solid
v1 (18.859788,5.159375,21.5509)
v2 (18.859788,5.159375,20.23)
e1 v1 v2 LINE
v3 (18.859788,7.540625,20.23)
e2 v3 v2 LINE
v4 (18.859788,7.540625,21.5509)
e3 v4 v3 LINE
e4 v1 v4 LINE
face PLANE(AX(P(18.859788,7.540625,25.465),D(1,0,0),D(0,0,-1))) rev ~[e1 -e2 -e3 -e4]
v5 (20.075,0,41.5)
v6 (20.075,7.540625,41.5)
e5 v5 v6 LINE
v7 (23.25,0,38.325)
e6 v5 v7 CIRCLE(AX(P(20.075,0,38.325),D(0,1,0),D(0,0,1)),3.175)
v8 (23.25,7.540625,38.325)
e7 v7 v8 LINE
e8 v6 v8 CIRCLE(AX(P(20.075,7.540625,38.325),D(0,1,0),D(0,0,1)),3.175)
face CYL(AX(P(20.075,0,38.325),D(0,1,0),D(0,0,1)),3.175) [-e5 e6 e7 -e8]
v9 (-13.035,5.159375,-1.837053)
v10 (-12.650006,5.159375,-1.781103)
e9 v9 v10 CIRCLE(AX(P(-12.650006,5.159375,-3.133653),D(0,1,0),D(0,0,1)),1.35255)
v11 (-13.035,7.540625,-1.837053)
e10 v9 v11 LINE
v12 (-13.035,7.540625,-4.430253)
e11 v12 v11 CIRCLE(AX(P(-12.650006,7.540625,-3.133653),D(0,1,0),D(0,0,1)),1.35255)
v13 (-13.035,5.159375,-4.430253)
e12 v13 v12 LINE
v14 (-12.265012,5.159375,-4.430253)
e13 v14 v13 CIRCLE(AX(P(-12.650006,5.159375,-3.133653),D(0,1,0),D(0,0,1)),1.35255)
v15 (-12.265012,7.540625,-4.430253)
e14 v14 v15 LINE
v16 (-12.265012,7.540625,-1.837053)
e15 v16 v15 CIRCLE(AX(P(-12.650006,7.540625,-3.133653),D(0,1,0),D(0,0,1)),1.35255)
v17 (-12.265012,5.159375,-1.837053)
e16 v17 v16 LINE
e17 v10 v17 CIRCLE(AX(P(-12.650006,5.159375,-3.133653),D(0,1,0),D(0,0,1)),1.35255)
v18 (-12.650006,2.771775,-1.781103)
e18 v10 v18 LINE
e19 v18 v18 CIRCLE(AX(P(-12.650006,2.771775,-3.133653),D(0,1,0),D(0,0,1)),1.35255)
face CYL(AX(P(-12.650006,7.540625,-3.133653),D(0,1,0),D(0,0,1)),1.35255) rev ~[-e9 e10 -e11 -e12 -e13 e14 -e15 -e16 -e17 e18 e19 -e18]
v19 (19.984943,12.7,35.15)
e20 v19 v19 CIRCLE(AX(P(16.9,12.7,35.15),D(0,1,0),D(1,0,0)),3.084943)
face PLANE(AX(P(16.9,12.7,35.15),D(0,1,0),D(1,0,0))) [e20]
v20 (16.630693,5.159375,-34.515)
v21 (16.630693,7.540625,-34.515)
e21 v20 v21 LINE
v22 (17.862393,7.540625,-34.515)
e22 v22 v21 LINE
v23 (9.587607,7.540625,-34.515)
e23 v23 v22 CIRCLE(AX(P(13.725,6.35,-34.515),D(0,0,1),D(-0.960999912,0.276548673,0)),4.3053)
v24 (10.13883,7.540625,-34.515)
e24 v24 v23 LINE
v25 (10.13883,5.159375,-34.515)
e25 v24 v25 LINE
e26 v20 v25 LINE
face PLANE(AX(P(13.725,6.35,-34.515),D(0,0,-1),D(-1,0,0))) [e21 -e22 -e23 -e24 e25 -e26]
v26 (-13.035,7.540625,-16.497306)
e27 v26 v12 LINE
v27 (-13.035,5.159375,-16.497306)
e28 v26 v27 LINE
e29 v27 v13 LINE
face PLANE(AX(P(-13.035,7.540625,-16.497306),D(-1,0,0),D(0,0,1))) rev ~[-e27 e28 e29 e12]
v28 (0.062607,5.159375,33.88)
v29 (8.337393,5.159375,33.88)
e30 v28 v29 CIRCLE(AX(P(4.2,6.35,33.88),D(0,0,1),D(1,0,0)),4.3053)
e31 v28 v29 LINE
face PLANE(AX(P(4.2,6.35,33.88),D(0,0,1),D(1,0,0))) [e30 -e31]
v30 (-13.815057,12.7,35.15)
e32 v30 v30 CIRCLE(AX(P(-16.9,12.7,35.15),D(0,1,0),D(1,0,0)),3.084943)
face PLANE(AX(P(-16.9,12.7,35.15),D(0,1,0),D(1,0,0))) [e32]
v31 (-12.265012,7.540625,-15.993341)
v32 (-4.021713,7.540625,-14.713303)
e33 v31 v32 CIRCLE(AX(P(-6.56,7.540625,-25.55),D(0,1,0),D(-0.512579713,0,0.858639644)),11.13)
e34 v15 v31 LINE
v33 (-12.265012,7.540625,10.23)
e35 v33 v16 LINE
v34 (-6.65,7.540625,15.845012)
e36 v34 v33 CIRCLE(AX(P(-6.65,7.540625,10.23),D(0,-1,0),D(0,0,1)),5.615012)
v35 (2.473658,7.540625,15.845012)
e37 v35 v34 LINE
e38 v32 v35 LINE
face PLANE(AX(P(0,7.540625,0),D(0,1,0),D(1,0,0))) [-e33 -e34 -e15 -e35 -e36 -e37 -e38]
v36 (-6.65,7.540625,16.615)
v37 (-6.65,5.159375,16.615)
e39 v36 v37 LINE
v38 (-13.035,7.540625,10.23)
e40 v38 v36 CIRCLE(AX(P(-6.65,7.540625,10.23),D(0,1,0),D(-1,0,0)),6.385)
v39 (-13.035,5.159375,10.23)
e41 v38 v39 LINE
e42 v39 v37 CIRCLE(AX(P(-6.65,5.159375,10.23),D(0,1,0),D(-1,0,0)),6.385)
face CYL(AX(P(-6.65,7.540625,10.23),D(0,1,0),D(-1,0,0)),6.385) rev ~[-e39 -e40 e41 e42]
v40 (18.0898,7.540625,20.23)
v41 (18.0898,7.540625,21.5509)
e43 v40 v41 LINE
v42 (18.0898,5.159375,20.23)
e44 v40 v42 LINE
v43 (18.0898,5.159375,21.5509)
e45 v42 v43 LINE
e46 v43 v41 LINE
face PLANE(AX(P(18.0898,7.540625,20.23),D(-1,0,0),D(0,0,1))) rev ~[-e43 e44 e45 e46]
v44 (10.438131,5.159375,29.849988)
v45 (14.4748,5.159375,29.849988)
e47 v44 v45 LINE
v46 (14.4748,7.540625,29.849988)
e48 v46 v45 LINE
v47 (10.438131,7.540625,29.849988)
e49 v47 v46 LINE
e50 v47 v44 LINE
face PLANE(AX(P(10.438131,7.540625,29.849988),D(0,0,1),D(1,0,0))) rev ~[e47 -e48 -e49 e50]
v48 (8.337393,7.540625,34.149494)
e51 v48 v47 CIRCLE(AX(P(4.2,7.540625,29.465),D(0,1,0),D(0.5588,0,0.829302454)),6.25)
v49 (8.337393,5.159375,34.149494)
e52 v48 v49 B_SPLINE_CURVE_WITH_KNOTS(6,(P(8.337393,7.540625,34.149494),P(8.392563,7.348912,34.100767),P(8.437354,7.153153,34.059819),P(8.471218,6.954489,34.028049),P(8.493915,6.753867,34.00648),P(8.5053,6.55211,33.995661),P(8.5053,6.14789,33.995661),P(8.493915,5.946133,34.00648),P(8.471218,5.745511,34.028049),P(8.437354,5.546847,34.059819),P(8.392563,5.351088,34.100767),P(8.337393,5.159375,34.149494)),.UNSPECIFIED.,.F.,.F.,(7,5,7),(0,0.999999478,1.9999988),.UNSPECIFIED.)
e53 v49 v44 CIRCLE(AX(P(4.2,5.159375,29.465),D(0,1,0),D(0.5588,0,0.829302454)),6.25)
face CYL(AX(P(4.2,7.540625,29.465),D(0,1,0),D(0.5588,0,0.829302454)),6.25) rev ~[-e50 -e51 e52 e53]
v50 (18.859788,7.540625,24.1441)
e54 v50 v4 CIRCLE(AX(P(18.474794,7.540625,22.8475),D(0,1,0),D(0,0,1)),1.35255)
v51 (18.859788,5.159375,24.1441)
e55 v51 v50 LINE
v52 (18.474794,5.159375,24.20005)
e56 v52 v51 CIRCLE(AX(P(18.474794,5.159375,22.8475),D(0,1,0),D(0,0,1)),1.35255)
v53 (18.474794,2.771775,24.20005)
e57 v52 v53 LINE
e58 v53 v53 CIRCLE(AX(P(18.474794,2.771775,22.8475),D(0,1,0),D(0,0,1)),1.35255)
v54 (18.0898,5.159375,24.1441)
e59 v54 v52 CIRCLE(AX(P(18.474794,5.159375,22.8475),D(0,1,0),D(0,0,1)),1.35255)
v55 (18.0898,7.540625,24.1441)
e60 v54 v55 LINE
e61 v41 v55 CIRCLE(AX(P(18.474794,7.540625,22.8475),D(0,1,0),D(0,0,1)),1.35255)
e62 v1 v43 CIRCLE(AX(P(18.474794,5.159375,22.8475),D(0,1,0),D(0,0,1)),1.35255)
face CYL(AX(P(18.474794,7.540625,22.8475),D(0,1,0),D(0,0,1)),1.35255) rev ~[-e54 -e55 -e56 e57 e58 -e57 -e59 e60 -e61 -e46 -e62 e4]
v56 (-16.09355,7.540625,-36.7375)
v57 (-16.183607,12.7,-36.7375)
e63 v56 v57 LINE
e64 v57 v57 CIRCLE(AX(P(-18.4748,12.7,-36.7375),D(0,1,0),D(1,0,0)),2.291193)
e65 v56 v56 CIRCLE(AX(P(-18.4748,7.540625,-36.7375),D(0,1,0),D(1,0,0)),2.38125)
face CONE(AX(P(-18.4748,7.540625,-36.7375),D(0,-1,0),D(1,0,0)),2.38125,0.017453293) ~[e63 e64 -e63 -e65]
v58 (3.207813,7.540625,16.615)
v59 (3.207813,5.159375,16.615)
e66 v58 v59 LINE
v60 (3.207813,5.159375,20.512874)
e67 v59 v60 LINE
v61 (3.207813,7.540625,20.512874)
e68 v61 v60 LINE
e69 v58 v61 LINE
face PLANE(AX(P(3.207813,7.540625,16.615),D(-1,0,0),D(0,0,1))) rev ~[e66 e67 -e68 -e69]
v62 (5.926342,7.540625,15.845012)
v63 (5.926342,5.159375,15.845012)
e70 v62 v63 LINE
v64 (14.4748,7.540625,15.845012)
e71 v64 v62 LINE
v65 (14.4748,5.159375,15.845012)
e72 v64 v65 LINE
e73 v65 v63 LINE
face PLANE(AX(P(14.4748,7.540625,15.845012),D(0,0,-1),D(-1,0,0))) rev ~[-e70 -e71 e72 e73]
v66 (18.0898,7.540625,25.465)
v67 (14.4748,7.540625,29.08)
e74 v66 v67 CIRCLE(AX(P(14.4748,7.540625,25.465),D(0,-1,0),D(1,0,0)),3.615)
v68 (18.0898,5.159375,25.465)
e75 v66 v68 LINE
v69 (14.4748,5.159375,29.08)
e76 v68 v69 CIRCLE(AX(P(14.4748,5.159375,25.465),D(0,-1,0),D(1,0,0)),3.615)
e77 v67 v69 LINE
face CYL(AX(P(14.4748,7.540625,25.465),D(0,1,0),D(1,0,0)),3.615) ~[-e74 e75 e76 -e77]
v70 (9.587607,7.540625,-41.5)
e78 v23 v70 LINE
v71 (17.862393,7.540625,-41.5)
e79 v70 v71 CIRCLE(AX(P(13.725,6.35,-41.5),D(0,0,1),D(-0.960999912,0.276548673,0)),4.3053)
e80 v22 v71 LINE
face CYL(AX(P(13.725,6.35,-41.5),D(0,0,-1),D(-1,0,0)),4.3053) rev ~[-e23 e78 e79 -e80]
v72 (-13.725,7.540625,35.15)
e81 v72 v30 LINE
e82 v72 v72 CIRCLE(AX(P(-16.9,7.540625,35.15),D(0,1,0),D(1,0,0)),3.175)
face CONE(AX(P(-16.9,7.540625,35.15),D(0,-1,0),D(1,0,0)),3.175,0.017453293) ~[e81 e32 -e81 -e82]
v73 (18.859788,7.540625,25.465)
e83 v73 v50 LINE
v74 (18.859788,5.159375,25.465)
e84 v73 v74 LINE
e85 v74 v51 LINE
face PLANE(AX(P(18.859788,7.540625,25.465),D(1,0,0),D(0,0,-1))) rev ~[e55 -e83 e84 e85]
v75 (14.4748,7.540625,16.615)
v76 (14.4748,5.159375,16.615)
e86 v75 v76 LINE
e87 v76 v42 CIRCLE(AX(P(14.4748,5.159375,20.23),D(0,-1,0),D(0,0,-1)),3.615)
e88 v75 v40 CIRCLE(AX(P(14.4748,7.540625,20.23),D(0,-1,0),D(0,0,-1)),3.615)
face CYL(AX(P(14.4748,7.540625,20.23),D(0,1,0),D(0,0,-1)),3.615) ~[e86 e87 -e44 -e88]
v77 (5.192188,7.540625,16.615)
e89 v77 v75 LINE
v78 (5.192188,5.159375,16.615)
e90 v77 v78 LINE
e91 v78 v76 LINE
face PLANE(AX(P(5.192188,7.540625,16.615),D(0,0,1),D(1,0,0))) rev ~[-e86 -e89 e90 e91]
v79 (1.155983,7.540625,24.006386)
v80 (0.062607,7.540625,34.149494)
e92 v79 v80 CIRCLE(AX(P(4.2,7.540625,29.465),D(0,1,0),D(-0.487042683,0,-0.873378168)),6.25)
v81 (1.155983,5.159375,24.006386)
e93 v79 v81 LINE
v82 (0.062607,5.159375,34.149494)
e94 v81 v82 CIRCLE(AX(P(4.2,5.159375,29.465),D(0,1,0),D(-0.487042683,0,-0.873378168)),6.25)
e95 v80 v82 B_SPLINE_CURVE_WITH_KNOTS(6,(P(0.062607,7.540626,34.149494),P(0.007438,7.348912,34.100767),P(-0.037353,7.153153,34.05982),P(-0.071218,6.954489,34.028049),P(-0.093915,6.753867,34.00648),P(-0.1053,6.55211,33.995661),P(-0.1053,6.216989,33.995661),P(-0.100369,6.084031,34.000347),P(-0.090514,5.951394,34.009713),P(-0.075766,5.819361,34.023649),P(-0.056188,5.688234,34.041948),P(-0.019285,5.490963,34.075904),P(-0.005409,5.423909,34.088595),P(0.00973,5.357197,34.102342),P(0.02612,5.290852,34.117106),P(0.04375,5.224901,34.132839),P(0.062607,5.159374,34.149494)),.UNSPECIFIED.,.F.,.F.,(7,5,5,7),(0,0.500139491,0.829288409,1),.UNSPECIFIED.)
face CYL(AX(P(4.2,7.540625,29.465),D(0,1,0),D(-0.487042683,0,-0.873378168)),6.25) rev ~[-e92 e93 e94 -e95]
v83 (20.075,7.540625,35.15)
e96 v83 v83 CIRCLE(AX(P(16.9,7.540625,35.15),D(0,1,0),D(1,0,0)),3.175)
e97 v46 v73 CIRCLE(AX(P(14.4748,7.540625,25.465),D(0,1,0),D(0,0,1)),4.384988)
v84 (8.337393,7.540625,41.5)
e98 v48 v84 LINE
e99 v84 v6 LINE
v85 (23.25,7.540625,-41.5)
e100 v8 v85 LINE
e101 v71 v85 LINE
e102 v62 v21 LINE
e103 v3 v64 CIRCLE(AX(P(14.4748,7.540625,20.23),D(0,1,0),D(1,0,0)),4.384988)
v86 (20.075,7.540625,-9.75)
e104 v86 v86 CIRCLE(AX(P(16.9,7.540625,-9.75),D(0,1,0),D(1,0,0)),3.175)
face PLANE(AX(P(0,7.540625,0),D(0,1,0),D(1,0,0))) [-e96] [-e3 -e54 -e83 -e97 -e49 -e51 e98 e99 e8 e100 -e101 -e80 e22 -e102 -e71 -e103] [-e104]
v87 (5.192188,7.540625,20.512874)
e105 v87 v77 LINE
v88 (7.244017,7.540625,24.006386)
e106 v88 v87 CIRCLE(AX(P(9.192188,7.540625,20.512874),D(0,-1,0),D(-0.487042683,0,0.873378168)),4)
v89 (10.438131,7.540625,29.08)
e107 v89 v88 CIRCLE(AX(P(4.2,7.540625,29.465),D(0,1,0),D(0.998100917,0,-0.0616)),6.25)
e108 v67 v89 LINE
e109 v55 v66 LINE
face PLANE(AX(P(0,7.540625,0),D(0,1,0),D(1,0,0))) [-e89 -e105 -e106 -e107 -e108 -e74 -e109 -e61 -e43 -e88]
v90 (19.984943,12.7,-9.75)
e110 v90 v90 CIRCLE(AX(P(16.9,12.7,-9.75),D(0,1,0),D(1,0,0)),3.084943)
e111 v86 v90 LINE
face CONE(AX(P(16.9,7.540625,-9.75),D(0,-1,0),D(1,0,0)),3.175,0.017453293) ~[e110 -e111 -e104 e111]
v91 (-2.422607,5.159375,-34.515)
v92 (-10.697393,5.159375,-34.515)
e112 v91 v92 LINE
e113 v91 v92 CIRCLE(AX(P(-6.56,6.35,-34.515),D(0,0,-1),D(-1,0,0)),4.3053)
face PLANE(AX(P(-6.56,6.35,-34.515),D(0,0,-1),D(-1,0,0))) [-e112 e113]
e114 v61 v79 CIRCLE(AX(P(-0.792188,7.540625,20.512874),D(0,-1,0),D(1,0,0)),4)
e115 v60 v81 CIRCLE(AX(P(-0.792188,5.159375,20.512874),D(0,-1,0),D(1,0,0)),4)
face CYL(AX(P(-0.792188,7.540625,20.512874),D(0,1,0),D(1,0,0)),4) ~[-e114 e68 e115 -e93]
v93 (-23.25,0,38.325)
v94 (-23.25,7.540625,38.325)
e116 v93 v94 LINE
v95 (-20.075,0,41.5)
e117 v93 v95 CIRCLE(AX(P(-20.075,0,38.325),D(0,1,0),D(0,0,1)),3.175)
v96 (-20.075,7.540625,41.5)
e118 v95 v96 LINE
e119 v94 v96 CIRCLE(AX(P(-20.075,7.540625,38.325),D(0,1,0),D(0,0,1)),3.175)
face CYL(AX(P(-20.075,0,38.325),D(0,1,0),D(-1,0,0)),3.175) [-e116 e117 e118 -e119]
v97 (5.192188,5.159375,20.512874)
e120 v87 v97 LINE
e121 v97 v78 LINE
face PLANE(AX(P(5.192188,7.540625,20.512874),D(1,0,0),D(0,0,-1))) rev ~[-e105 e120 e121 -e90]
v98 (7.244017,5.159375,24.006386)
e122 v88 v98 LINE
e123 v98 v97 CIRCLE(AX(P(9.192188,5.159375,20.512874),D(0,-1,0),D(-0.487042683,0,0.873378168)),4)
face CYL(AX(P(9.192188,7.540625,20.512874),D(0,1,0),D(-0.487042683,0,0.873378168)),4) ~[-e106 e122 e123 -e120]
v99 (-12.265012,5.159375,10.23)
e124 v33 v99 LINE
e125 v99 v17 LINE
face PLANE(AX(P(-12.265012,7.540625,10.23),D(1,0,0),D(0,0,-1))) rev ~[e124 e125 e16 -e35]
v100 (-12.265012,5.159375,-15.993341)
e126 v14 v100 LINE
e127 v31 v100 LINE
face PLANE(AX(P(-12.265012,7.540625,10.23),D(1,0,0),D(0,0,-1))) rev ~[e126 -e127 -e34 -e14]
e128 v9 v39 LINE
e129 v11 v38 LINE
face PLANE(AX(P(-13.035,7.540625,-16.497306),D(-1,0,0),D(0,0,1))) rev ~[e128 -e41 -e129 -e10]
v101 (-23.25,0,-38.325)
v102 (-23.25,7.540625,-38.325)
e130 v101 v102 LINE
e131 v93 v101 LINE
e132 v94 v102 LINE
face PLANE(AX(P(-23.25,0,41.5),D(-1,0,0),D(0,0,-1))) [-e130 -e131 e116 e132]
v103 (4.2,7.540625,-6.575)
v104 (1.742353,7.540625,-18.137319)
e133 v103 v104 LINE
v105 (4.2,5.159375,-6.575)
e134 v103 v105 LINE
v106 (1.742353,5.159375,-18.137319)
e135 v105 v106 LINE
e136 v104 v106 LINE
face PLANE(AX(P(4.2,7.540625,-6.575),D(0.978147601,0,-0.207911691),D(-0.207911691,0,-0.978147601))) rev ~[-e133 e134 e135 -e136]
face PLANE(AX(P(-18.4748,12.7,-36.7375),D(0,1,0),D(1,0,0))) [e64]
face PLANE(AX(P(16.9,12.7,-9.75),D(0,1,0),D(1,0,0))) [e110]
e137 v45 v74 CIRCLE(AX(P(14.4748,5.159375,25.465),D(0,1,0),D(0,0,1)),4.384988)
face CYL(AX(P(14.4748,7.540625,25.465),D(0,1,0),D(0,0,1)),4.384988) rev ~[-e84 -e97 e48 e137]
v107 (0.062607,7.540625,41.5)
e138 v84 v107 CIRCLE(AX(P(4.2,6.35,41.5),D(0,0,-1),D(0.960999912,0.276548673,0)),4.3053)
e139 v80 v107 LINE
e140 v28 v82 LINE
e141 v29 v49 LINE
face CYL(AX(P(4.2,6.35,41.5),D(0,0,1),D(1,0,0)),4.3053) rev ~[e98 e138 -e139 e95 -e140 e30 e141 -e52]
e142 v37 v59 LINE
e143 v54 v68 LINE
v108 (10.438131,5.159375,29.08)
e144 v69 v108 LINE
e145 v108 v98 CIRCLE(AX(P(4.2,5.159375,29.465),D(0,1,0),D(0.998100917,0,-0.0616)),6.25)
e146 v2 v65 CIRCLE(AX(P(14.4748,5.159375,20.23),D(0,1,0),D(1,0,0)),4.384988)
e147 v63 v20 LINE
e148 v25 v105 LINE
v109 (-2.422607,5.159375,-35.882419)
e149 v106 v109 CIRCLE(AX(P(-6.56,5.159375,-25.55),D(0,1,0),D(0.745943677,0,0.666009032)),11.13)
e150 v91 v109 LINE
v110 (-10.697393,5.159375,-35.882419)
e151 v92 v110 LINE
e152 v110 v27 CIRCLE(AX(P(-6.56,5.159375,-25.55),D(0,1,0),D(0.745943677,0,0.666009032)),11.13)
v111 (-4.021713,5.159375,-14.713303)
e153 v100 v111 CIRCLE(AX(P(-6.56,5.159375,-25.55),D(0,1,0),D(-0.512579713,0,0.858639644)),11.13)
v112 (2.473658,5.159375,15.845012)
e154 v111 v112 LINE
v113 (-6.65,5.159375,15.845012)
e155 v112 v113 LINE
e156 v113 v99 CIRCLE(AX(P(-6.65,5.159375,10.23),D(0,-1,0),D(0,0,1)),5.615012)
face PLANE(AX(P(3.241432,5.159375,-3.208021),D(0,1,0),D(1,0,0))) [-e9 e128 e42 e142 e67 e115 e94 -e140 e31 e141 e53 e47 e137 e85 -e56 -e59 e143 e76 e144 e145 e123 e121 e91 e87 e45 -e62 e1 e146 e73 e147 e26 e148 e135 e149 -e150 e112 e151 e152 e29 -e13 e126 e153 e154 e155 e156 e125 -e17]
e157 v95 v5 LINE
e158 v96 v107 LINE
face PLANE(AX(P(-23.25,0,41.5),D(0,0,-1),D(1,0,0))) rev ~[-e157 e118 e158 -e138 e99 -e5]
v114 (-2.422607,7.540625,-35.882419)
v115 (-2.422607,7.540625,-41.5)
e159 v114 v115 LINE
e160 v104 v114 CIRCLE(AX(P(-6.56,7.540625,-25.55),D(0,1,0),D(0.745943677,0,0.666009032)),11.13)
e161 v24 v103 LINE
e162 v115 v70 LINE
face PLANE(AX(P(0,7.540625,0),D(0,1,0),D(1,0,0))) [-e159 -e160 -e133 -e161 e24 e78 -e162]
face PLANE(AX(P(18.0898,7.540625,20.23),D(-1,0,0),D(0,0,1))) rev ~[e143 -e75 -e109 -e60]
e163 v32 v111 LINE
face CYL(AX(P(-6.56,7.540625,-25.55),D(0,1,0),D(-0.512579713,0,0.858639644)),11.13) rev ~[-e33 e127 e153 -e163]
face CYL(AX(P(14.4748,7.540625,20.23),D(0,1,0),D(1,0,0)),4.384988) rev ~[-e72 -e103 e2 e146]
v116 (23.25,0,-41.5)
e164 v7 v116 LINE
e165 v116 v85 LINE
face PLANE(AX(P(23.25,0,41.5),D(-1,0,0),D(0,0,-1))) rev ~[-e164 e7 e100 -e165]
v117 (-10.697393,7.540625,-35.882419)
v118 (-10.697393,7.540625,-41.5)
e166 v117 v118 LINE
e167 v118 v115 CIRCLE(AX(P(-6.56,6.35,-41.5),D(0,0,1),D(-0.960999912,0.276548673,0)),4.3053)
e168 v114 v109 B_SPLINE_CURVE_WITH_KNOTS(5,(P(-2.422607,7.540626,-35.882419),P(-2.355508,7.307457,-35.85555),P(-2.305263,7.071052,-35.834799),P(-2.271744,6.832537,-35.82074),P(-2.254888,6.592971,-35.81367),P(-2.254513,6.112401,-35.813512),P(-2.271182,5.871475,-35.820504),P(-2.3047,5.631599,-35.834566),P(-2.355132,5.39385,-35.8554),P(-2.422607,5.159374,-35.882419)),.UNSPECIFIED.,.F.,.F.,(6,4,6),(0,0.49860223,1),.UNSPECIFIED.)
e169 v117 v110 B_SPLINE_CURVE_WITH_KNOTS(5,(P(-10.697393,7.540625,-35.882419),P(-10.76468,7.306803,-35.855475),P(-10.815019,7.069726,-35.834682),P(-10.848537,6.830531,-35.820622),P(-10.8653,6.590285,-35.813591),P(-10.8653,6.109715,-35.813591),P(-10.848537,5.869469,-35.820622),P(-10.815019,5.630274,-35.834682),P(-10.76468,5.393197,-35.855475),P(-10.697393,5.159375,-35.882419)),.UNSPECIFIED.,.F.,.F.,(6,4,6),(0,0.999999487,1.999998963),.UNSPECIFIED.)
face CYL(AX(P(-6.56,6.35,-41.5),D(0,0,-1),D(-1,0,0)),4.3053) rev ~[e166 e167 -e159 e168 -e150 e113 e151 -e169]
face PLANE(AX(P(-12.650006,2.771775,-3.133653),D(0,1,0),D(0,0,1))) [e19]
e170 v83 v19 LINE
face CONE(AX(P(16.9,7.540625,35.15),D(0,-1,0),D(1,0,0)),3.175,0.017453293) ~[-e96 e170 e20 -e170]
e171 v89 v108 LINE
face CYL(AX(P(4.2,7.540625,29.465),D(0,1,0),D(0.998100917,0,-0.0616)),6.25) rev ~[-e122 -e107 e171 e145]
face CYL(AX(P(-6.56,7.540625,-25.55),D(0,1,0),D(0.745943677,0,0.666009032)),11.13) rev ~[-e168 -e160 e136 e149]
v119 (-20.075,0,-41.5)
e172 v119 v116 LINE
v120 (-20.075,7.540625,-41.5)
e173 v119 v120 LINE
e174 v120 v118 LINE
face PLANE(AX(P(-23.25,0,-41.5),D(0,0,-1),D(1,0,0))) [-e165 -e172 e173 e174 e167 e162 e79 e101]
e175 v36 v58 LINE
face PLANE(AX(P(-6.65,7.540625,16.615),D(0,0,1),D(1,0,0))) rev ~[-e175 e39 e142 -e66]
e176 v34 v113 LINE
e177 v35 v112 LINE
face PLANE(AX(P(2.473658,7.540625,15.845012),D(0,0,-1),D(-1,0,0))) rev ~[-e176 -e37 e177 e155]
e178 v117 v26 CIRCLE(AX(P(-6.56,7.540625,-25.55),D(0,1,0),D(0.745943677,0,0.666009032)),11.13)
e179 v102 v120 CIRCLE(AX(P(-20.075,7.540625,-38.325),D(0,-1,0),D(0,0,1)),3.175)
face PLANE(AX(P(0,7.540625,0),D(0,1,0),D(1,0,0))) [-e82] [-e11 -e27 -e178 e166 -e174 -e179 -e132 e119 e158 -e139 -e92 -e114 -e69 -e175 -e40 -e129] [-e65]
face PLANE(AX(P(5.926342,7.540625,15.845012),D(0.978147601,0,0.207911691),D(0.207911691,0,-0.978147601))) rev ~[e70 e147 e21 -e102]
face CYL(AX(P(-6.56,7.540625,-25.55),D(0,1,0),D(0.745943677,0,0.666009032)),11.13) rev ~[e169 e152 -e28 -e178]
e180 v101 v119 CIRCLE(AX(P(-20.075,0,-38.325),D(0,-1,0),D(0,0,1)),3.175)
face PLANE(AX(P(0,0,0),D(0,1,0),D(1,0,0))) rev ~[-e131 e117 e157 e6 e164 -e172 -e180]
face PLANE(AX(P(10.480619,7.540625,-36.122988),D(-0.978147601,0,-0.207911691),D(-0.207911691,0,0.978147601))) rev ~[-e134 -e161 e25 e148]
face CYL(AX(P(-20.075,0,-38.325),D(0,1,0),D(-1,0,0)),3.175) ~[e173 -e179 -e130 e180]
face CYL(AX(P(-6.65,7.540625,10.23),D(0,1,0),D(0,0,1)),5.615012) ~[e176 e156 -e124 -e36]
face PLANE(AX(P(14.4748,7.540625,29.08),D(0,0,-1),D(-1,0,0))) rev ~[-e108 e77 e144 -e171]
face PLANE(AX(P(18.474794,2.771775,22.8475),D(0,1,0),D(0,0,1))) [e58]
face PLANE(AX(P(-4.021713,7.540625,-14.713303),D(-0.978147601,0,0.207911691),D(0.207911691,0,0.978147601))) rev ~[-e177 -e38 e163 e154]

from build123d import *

# Parameters (mm, degrees)
SKETCH1_W                     = 46.5
SKETCH1_H                     = 83
BOSS_EXTRUDE1_DEPTH           = 7.540625
CUT_EXTRUDE3_START            = 7.540625
CUT_EXTRUDE3_DEPTH            = 2.38125
SKETCH10_R                    = 1.35255
CUT_EXTRUDE6_DEPTH            = 4.76885
SKETCH11_W                    = 6.985
SKETCH11_H                    = 5.382155198
CUT_EXTRUDE7_DEPTH            = 2.38125
SKETCH12_R                    = 3.175
BOSS_EXTRUDE2_DEPTH           = 5.159375
BOSS_EXTRUDE2_DRAFT           = 1
BOSS_EXTRUDE2_PROFILE_2_DEPTH = 5.159375
BOSS_EXTRUDE2_PROFILE_2_DRAFT = 1
BOSS_EXTRUDE2_PROFILE_3_DEPTH = 5.159375
BOSS_EXTRUDE2_PROFILE_3_DRAFT = 1
SKETCH12_R_2                  = 2.38125
BOSS_EXTRUDE2_PROFILE_4_DEPTH = 5.159375
BOSS_EXTRUDE2_PROFILE_4_DRAFT = 1
FILLET1_R                     = 3.175
SKETCH13_R                    = 4.3053
CUT_EXTRUDE8_DEPTH            = 6.985
SKETCH14_R                    = 4.3053
CUT_EXTRUDE9_DEPTH            = 7.62


with BuildPart() as part:
    # Sketch1 → Boss-Extrude1 (new body)
    with BuildSketch(Plane(origin=(0, 0, 0), x_dir=(1, 0, 0), z_dir=(0, 1, 0))):
        Rectangle(SKETCH1_W, SKETCH1_H)
    extrude(amount=BOSS_EXTRUDE1_DEPTH)

    # Sketch2 → Cut-Extrude3 (cut)
    with BuildSketch(Plane(origin=(0, 0, 0), x_dir=(1, 0, 0), z_dir=(0, 1, 0)).offset(CUT_EXTRUDE3_START)):
        with BuildLine():
            Line((5.926342072, -15.8450122), (16.691855897, 34.802748287))
            ThreePointArc((16.691855897, 34.802748287), (16.847821053, 35.78747353), (16.9, 36.783107142))
            Line((16.9, 36.783107142), (16.9, 41.5))
            Line((16.9, 41.5), (10.55, 41.5))
            Line((10.55, 41.5), (10.55, 36.783107142))
            ThreePointArc((10.55, 36.783107142), (10.532607018, 36.451229271), (10.480618632, 36.122987524))
            Line((10.480618632, 36.122987524), (4.2, 6.575))
            Line((4.2, 6.575), (1.742353127, 18.137319476))
            ThreePointArc((1.742353127, 18.137319476), (-7.787687338, 36.612083158), (-13.035, 16.49730565))
            Line((-13.035, 16.49730565), (-13.035, -10.23))
            ThreePointArc((-13.035, -10.23), (-11.164876798, -14.744876798), (-6.65, -16.615))
            Line((-6.65, -16.615), (3.2078125, -16.615))
            Line((3.2078125, -16.615), (3.2078125, -20.512873774))
            ThreePointArc((3.2078125, -20.512873774), (2.656919843, -22.538622657), (1.155983232, -24.006386448))
            ThreePointArc((1.155983232, -24.006386448), (-2.044457088, -29.201835269), (0.7075, -34.648140337))
            Line((0.7075, -34.648140337), (0.7075, -41.5))
            Line((0.7075, -41.5), (7.6925, -41.5))
            Line((7.6925, -41.5), (7.6925, -34.648140337))
            ThreePointArc((7.6925, -34.648140337), (9.624653372, -32.569132052), (10.438131483, -29.8499878))
            Line((10.438131483, -29.8499878), (14.4748, -29.8499878))
            ThreePointArc((14.4748, -29.8499878), (17.575454609, -28.565654609), (18.8597878, -25.465))
            Line((18.8597878, -25.465), (18.8597878, -20.23))
            ThreePointArc((18.8597878, -20.23), (17.575454609, -17.129345391), (14.4748, -15.8450122))
            Line((14.4748, -15.8450122), (5.926342072, -15.8450122))
        make_face()
        with BuildLine():
            Line((14.4748, -29.08), (10.43813073, -29.08))
            ThreePointArc((10.43813073, -29.08), (9.489135484, -26.135203334), (7.244016768, -24.006386448))
            ThreePointArc((7.244016768, -24.006386448), (5.743080157, -22.538622657), (5.1921875, -20.512873774))
            Line((5.1921875, -20.512873774), (5.1921875, -16.615))
            Line((5.1921875, -16.615), (14.4748, -16.615))
            ThreePointArc((14.4748, -16.615), (17.030991014, -17.673808986), (18.0898, -20.23))
            Line((18.0898, -20.23), (18.0898, -25.465))
            ThreePointArc((18.0898, -25.465), (17.030991014, -28.021191014), (14.4748, -29.08))
        make_face(mode=Mode.SUBTRACT)
        with BuildLine():
            Line((-4.021712531, 14.713303237), (2.473657928, -15.8450122))
            Line((2.473657928, -15.8450122), (-6.65, -15.8450122))
            ThreePointArc((-6.65, -15.8450122), (-10.620413203, -14.200413203), (-12.2650122, -10.23))
            Line((-12.2650122, -10.23), (-12.2650122, 15.993340762))
            ThreePointArc((-12.2650122, 15.993340762), (-8.267823292, 14.551807439), (-4.021712531, 14.713303237))
        make_face(mode=Mode.SUBTRACT)
    extrude(amount=-CUT_EXTRUDE3_DEPTH, mode=Mode.SUBTRACT)

    # Sketch10 → Cut-Extrude6 (cut)
    with BuildSketch(Plane(origin=(0, 7.540625, 0), x_dir=(1, 0, 0), z_dir=(0, 1, 0))):
        with Locations(Location((18.4747939, -22.8475, 0), (0, 0, 270))):
            Circle(SKETCH10_R)
        with Locations(Location((-12.6500061, 3.133652825, 0), (0, 0, 270))):
            Circle(SKETCH10_R)
    extrude(amount=-CUT_EXTRUDE6_DEPTH, mode=Mode.SUBTRACT)

    # Sketch11 → Cut-Extrude7 (cut)
    with BuildSketch(Plane(origin=(0, 7.540625, 0), x_dir=(1, 0, 0), z_dir=(0, 1, 0))):
        with Locations((-6.56, 38.808922401)):
            Rectangle(SKETCH11_W, SKETCH11_H)
    extrude(amount=-CUT_EXTRUDE7_DEPTH, mode=Mode.SUBTRACT)


with BuildPart() as boss_extrude2_tool:
    # Sketch12 → Boss-Extrude2 (with draft: the straight prism first)
    with BuildSketch(Plane(origin=(0, 7.540625, 0), x_dir=(1, 0, 0), z_dir=(0, 1, 0))):
        with Locations((-16.9, -35.15)):
            Circle(SKETCH12_R)
    extrude(amount=BOSS_EXTRUDE2_DEPTH)
    # Boss-Extrude2: the draft: its side faces are tilted about the plane it starts from
    boss_extrude2_sides = [boss_extrude2_tool.faces().sort_by_distance(p)[0] for p in [
        (-20.075, 10.1203125, 35.15),
    ]]
    draft(boss_extrude2_sides, Plane(origin=(0, 7.540625, 0), x_dir=(1, 0, 0), z_dir=(0, 1, 0)), BOSS_EXTRUDE2_DRAFT)


with BuildPart() as part_1:
    add(part.part)

    # Boss-Extrude2: add boss_extrude2_tool
    add(boss_extrude2_tool.part)


with BuildPart() as boss_extrude2_profile_2_tool:
    # Sketch12 → Boss-Extrude2 profile 2 (with draft: the straight prism first)
    with BuildSketch(Plane(origin=(0, 7.540625, 0), x_dir=(1, 0, 0), z_dir=(0, 1, 0))):
        with Locations((16.9, -35.15)):
            Circle(SKETCH12_R)
    extrude(amount=BOSS_EXTRUDE2_PROFILE_2_DEPTH)
    # Boss-Extrude2 profile 2: the draft: its side faces are tilted about the plane it starts from
    boss_extrude2_profile_2_sides = [boss_extrude2_profile_2_tool.faces().sort_by_distance(p)[0] for p in [
        (13.725, 10.1203125, 35.15),
    ]]
    draft(boss_extrude2_profile_2_sides, Plane(origin=(0, 7.540625, 0), x_dir=(1, 0, 0), z_dir=(0, 1, 0)), BOSS_EXTRUDE2_PROFILE_2_DRAFT)


with BuildPart() as part_2:
    add(part_1.part)

    # Boss-Extrude2 profile 2: add boss_extrude2_profile_2_tool
    add(boss_extrude2_profile_2_tool.part)


with BuildPart() as boss_extrude2_profile_3_tool:
    # Sketch12 → Boss-Extrude2 profile 3 (with draft: the straight prism first)
    with BuildSketch(Plane(origin=(0, 7.540625, 0), x_dir=(1, 0, 0), z_dir=(0, 1, 0))):
        with Locations((16.9, 9.75)):
            Circle(SKETCH12_R)
    extrude(amount=BOSS_EXTRUDE2_PROFILE_3_DEPTH)
    # Boss-Extrude2 profile 3: the draft: its side faces are tilted about the plane it starts from
    boss_extrude2_profile_3_sides = [boss_extrude2_profile_3_tool.faces().sort_by_distance(p)[0] for p in [
        (13.725, 10.1203125, -9.75),
    ]]
    draft(boss_extrude2_profile_3_sides, Plane(origin=(0, 7.540625, 0), x_dir=(1, 0, 0), z_dir=(0, 1, 0)), BOSS_EXTRUDE2_PROFILE_3_DRAFT)


with BuildPart() as part_3:
    add(part_2.part)

    # Boss-Extrude2 profile 3: add boss_extrude2_profile_3_tool
    add(boss_extrude2_profile_3_tool.part)


with BuildPart() as boss_extrude2_profile_4_tool:
    # Sketch12 → Boss-Extrude2 profile 4 (with draft: the straight prism first)
    with BuildSketch(Plane(origin=(0, 7.540625, 0), x_dir=(1, 0, 0), z_dir=(0, 1, 0))):
        with Locations((-18.4748, 36.7375)):
            Circle(SKETCH12_R_2)
    extrude(amount=BOSS_EXTRUDE2_PROFILE_4_DEPTH)
    # Boss-Extrude2 profile 4: the draft: its side faces are tilted about the plane it starts from
    boss_extrude2_profile_4_sides = [boss_extrude2_profile_4_tool.faces().sort_by_distance(p)[0] for p in [
        (-20.85605, 10.1203125, -36.7375),
    ]]
    draft(boss_extrude2_profile_4_sides, Plane(origin=(0, 7.540625, 0), x_dir=(1, 0, 0), z_dir=(0, 1, 0)), BOSS_EXTRUDE2_PROFILE_4_DRAFT)


with BuildPart() as part_4:
    add(part_3.part)

    # Boss-Extrude2 profile 4: add boss_extrude2_profile_4_tool
    add(boss_extrude2_profile_4_tool.part)

    # Fillet1
    fillet1_edges = [part_4.edges().sort_by_distance(p)[0] for p in [
        (23.25, 3.7703125, 41.5),
        (-23.25, 3.7703125, 41.5),
        (-23.25, 3.7703125, -41.5),
    ]]
    fillet(fillet1_edges, radius=FILLET1_R)

    # Sketch13 → Cut-Extrude8 (cut)
    with BuildSketch(Plane(origin=(0, 0, -41.5), x_dir=(-1, 0, 0), z_dir=(0, 0, -1))):
        with Locations((-13.725, 6.35)):
            Circle(SKETCH13_R)
        with Locations((6.56, 6.35)):
            Circle(SKETCH13_R)
    extrude(amount=-CUT_EXTRUDE8_DEPTH, mode=Mode.SUBTRACT)

    # Sketch14 → Cut-Extrude9 (cut)
    with BuildSketch(Plane.XY.offset(41.5)):
        with Locations((4.2, 6.35)):
            Circle(SKETCH14_R)
    extrude(amount=-CUT_EXTRUDE9_DEPTH, mode=Mode.SUBTRACT)


solid = part_4.part
